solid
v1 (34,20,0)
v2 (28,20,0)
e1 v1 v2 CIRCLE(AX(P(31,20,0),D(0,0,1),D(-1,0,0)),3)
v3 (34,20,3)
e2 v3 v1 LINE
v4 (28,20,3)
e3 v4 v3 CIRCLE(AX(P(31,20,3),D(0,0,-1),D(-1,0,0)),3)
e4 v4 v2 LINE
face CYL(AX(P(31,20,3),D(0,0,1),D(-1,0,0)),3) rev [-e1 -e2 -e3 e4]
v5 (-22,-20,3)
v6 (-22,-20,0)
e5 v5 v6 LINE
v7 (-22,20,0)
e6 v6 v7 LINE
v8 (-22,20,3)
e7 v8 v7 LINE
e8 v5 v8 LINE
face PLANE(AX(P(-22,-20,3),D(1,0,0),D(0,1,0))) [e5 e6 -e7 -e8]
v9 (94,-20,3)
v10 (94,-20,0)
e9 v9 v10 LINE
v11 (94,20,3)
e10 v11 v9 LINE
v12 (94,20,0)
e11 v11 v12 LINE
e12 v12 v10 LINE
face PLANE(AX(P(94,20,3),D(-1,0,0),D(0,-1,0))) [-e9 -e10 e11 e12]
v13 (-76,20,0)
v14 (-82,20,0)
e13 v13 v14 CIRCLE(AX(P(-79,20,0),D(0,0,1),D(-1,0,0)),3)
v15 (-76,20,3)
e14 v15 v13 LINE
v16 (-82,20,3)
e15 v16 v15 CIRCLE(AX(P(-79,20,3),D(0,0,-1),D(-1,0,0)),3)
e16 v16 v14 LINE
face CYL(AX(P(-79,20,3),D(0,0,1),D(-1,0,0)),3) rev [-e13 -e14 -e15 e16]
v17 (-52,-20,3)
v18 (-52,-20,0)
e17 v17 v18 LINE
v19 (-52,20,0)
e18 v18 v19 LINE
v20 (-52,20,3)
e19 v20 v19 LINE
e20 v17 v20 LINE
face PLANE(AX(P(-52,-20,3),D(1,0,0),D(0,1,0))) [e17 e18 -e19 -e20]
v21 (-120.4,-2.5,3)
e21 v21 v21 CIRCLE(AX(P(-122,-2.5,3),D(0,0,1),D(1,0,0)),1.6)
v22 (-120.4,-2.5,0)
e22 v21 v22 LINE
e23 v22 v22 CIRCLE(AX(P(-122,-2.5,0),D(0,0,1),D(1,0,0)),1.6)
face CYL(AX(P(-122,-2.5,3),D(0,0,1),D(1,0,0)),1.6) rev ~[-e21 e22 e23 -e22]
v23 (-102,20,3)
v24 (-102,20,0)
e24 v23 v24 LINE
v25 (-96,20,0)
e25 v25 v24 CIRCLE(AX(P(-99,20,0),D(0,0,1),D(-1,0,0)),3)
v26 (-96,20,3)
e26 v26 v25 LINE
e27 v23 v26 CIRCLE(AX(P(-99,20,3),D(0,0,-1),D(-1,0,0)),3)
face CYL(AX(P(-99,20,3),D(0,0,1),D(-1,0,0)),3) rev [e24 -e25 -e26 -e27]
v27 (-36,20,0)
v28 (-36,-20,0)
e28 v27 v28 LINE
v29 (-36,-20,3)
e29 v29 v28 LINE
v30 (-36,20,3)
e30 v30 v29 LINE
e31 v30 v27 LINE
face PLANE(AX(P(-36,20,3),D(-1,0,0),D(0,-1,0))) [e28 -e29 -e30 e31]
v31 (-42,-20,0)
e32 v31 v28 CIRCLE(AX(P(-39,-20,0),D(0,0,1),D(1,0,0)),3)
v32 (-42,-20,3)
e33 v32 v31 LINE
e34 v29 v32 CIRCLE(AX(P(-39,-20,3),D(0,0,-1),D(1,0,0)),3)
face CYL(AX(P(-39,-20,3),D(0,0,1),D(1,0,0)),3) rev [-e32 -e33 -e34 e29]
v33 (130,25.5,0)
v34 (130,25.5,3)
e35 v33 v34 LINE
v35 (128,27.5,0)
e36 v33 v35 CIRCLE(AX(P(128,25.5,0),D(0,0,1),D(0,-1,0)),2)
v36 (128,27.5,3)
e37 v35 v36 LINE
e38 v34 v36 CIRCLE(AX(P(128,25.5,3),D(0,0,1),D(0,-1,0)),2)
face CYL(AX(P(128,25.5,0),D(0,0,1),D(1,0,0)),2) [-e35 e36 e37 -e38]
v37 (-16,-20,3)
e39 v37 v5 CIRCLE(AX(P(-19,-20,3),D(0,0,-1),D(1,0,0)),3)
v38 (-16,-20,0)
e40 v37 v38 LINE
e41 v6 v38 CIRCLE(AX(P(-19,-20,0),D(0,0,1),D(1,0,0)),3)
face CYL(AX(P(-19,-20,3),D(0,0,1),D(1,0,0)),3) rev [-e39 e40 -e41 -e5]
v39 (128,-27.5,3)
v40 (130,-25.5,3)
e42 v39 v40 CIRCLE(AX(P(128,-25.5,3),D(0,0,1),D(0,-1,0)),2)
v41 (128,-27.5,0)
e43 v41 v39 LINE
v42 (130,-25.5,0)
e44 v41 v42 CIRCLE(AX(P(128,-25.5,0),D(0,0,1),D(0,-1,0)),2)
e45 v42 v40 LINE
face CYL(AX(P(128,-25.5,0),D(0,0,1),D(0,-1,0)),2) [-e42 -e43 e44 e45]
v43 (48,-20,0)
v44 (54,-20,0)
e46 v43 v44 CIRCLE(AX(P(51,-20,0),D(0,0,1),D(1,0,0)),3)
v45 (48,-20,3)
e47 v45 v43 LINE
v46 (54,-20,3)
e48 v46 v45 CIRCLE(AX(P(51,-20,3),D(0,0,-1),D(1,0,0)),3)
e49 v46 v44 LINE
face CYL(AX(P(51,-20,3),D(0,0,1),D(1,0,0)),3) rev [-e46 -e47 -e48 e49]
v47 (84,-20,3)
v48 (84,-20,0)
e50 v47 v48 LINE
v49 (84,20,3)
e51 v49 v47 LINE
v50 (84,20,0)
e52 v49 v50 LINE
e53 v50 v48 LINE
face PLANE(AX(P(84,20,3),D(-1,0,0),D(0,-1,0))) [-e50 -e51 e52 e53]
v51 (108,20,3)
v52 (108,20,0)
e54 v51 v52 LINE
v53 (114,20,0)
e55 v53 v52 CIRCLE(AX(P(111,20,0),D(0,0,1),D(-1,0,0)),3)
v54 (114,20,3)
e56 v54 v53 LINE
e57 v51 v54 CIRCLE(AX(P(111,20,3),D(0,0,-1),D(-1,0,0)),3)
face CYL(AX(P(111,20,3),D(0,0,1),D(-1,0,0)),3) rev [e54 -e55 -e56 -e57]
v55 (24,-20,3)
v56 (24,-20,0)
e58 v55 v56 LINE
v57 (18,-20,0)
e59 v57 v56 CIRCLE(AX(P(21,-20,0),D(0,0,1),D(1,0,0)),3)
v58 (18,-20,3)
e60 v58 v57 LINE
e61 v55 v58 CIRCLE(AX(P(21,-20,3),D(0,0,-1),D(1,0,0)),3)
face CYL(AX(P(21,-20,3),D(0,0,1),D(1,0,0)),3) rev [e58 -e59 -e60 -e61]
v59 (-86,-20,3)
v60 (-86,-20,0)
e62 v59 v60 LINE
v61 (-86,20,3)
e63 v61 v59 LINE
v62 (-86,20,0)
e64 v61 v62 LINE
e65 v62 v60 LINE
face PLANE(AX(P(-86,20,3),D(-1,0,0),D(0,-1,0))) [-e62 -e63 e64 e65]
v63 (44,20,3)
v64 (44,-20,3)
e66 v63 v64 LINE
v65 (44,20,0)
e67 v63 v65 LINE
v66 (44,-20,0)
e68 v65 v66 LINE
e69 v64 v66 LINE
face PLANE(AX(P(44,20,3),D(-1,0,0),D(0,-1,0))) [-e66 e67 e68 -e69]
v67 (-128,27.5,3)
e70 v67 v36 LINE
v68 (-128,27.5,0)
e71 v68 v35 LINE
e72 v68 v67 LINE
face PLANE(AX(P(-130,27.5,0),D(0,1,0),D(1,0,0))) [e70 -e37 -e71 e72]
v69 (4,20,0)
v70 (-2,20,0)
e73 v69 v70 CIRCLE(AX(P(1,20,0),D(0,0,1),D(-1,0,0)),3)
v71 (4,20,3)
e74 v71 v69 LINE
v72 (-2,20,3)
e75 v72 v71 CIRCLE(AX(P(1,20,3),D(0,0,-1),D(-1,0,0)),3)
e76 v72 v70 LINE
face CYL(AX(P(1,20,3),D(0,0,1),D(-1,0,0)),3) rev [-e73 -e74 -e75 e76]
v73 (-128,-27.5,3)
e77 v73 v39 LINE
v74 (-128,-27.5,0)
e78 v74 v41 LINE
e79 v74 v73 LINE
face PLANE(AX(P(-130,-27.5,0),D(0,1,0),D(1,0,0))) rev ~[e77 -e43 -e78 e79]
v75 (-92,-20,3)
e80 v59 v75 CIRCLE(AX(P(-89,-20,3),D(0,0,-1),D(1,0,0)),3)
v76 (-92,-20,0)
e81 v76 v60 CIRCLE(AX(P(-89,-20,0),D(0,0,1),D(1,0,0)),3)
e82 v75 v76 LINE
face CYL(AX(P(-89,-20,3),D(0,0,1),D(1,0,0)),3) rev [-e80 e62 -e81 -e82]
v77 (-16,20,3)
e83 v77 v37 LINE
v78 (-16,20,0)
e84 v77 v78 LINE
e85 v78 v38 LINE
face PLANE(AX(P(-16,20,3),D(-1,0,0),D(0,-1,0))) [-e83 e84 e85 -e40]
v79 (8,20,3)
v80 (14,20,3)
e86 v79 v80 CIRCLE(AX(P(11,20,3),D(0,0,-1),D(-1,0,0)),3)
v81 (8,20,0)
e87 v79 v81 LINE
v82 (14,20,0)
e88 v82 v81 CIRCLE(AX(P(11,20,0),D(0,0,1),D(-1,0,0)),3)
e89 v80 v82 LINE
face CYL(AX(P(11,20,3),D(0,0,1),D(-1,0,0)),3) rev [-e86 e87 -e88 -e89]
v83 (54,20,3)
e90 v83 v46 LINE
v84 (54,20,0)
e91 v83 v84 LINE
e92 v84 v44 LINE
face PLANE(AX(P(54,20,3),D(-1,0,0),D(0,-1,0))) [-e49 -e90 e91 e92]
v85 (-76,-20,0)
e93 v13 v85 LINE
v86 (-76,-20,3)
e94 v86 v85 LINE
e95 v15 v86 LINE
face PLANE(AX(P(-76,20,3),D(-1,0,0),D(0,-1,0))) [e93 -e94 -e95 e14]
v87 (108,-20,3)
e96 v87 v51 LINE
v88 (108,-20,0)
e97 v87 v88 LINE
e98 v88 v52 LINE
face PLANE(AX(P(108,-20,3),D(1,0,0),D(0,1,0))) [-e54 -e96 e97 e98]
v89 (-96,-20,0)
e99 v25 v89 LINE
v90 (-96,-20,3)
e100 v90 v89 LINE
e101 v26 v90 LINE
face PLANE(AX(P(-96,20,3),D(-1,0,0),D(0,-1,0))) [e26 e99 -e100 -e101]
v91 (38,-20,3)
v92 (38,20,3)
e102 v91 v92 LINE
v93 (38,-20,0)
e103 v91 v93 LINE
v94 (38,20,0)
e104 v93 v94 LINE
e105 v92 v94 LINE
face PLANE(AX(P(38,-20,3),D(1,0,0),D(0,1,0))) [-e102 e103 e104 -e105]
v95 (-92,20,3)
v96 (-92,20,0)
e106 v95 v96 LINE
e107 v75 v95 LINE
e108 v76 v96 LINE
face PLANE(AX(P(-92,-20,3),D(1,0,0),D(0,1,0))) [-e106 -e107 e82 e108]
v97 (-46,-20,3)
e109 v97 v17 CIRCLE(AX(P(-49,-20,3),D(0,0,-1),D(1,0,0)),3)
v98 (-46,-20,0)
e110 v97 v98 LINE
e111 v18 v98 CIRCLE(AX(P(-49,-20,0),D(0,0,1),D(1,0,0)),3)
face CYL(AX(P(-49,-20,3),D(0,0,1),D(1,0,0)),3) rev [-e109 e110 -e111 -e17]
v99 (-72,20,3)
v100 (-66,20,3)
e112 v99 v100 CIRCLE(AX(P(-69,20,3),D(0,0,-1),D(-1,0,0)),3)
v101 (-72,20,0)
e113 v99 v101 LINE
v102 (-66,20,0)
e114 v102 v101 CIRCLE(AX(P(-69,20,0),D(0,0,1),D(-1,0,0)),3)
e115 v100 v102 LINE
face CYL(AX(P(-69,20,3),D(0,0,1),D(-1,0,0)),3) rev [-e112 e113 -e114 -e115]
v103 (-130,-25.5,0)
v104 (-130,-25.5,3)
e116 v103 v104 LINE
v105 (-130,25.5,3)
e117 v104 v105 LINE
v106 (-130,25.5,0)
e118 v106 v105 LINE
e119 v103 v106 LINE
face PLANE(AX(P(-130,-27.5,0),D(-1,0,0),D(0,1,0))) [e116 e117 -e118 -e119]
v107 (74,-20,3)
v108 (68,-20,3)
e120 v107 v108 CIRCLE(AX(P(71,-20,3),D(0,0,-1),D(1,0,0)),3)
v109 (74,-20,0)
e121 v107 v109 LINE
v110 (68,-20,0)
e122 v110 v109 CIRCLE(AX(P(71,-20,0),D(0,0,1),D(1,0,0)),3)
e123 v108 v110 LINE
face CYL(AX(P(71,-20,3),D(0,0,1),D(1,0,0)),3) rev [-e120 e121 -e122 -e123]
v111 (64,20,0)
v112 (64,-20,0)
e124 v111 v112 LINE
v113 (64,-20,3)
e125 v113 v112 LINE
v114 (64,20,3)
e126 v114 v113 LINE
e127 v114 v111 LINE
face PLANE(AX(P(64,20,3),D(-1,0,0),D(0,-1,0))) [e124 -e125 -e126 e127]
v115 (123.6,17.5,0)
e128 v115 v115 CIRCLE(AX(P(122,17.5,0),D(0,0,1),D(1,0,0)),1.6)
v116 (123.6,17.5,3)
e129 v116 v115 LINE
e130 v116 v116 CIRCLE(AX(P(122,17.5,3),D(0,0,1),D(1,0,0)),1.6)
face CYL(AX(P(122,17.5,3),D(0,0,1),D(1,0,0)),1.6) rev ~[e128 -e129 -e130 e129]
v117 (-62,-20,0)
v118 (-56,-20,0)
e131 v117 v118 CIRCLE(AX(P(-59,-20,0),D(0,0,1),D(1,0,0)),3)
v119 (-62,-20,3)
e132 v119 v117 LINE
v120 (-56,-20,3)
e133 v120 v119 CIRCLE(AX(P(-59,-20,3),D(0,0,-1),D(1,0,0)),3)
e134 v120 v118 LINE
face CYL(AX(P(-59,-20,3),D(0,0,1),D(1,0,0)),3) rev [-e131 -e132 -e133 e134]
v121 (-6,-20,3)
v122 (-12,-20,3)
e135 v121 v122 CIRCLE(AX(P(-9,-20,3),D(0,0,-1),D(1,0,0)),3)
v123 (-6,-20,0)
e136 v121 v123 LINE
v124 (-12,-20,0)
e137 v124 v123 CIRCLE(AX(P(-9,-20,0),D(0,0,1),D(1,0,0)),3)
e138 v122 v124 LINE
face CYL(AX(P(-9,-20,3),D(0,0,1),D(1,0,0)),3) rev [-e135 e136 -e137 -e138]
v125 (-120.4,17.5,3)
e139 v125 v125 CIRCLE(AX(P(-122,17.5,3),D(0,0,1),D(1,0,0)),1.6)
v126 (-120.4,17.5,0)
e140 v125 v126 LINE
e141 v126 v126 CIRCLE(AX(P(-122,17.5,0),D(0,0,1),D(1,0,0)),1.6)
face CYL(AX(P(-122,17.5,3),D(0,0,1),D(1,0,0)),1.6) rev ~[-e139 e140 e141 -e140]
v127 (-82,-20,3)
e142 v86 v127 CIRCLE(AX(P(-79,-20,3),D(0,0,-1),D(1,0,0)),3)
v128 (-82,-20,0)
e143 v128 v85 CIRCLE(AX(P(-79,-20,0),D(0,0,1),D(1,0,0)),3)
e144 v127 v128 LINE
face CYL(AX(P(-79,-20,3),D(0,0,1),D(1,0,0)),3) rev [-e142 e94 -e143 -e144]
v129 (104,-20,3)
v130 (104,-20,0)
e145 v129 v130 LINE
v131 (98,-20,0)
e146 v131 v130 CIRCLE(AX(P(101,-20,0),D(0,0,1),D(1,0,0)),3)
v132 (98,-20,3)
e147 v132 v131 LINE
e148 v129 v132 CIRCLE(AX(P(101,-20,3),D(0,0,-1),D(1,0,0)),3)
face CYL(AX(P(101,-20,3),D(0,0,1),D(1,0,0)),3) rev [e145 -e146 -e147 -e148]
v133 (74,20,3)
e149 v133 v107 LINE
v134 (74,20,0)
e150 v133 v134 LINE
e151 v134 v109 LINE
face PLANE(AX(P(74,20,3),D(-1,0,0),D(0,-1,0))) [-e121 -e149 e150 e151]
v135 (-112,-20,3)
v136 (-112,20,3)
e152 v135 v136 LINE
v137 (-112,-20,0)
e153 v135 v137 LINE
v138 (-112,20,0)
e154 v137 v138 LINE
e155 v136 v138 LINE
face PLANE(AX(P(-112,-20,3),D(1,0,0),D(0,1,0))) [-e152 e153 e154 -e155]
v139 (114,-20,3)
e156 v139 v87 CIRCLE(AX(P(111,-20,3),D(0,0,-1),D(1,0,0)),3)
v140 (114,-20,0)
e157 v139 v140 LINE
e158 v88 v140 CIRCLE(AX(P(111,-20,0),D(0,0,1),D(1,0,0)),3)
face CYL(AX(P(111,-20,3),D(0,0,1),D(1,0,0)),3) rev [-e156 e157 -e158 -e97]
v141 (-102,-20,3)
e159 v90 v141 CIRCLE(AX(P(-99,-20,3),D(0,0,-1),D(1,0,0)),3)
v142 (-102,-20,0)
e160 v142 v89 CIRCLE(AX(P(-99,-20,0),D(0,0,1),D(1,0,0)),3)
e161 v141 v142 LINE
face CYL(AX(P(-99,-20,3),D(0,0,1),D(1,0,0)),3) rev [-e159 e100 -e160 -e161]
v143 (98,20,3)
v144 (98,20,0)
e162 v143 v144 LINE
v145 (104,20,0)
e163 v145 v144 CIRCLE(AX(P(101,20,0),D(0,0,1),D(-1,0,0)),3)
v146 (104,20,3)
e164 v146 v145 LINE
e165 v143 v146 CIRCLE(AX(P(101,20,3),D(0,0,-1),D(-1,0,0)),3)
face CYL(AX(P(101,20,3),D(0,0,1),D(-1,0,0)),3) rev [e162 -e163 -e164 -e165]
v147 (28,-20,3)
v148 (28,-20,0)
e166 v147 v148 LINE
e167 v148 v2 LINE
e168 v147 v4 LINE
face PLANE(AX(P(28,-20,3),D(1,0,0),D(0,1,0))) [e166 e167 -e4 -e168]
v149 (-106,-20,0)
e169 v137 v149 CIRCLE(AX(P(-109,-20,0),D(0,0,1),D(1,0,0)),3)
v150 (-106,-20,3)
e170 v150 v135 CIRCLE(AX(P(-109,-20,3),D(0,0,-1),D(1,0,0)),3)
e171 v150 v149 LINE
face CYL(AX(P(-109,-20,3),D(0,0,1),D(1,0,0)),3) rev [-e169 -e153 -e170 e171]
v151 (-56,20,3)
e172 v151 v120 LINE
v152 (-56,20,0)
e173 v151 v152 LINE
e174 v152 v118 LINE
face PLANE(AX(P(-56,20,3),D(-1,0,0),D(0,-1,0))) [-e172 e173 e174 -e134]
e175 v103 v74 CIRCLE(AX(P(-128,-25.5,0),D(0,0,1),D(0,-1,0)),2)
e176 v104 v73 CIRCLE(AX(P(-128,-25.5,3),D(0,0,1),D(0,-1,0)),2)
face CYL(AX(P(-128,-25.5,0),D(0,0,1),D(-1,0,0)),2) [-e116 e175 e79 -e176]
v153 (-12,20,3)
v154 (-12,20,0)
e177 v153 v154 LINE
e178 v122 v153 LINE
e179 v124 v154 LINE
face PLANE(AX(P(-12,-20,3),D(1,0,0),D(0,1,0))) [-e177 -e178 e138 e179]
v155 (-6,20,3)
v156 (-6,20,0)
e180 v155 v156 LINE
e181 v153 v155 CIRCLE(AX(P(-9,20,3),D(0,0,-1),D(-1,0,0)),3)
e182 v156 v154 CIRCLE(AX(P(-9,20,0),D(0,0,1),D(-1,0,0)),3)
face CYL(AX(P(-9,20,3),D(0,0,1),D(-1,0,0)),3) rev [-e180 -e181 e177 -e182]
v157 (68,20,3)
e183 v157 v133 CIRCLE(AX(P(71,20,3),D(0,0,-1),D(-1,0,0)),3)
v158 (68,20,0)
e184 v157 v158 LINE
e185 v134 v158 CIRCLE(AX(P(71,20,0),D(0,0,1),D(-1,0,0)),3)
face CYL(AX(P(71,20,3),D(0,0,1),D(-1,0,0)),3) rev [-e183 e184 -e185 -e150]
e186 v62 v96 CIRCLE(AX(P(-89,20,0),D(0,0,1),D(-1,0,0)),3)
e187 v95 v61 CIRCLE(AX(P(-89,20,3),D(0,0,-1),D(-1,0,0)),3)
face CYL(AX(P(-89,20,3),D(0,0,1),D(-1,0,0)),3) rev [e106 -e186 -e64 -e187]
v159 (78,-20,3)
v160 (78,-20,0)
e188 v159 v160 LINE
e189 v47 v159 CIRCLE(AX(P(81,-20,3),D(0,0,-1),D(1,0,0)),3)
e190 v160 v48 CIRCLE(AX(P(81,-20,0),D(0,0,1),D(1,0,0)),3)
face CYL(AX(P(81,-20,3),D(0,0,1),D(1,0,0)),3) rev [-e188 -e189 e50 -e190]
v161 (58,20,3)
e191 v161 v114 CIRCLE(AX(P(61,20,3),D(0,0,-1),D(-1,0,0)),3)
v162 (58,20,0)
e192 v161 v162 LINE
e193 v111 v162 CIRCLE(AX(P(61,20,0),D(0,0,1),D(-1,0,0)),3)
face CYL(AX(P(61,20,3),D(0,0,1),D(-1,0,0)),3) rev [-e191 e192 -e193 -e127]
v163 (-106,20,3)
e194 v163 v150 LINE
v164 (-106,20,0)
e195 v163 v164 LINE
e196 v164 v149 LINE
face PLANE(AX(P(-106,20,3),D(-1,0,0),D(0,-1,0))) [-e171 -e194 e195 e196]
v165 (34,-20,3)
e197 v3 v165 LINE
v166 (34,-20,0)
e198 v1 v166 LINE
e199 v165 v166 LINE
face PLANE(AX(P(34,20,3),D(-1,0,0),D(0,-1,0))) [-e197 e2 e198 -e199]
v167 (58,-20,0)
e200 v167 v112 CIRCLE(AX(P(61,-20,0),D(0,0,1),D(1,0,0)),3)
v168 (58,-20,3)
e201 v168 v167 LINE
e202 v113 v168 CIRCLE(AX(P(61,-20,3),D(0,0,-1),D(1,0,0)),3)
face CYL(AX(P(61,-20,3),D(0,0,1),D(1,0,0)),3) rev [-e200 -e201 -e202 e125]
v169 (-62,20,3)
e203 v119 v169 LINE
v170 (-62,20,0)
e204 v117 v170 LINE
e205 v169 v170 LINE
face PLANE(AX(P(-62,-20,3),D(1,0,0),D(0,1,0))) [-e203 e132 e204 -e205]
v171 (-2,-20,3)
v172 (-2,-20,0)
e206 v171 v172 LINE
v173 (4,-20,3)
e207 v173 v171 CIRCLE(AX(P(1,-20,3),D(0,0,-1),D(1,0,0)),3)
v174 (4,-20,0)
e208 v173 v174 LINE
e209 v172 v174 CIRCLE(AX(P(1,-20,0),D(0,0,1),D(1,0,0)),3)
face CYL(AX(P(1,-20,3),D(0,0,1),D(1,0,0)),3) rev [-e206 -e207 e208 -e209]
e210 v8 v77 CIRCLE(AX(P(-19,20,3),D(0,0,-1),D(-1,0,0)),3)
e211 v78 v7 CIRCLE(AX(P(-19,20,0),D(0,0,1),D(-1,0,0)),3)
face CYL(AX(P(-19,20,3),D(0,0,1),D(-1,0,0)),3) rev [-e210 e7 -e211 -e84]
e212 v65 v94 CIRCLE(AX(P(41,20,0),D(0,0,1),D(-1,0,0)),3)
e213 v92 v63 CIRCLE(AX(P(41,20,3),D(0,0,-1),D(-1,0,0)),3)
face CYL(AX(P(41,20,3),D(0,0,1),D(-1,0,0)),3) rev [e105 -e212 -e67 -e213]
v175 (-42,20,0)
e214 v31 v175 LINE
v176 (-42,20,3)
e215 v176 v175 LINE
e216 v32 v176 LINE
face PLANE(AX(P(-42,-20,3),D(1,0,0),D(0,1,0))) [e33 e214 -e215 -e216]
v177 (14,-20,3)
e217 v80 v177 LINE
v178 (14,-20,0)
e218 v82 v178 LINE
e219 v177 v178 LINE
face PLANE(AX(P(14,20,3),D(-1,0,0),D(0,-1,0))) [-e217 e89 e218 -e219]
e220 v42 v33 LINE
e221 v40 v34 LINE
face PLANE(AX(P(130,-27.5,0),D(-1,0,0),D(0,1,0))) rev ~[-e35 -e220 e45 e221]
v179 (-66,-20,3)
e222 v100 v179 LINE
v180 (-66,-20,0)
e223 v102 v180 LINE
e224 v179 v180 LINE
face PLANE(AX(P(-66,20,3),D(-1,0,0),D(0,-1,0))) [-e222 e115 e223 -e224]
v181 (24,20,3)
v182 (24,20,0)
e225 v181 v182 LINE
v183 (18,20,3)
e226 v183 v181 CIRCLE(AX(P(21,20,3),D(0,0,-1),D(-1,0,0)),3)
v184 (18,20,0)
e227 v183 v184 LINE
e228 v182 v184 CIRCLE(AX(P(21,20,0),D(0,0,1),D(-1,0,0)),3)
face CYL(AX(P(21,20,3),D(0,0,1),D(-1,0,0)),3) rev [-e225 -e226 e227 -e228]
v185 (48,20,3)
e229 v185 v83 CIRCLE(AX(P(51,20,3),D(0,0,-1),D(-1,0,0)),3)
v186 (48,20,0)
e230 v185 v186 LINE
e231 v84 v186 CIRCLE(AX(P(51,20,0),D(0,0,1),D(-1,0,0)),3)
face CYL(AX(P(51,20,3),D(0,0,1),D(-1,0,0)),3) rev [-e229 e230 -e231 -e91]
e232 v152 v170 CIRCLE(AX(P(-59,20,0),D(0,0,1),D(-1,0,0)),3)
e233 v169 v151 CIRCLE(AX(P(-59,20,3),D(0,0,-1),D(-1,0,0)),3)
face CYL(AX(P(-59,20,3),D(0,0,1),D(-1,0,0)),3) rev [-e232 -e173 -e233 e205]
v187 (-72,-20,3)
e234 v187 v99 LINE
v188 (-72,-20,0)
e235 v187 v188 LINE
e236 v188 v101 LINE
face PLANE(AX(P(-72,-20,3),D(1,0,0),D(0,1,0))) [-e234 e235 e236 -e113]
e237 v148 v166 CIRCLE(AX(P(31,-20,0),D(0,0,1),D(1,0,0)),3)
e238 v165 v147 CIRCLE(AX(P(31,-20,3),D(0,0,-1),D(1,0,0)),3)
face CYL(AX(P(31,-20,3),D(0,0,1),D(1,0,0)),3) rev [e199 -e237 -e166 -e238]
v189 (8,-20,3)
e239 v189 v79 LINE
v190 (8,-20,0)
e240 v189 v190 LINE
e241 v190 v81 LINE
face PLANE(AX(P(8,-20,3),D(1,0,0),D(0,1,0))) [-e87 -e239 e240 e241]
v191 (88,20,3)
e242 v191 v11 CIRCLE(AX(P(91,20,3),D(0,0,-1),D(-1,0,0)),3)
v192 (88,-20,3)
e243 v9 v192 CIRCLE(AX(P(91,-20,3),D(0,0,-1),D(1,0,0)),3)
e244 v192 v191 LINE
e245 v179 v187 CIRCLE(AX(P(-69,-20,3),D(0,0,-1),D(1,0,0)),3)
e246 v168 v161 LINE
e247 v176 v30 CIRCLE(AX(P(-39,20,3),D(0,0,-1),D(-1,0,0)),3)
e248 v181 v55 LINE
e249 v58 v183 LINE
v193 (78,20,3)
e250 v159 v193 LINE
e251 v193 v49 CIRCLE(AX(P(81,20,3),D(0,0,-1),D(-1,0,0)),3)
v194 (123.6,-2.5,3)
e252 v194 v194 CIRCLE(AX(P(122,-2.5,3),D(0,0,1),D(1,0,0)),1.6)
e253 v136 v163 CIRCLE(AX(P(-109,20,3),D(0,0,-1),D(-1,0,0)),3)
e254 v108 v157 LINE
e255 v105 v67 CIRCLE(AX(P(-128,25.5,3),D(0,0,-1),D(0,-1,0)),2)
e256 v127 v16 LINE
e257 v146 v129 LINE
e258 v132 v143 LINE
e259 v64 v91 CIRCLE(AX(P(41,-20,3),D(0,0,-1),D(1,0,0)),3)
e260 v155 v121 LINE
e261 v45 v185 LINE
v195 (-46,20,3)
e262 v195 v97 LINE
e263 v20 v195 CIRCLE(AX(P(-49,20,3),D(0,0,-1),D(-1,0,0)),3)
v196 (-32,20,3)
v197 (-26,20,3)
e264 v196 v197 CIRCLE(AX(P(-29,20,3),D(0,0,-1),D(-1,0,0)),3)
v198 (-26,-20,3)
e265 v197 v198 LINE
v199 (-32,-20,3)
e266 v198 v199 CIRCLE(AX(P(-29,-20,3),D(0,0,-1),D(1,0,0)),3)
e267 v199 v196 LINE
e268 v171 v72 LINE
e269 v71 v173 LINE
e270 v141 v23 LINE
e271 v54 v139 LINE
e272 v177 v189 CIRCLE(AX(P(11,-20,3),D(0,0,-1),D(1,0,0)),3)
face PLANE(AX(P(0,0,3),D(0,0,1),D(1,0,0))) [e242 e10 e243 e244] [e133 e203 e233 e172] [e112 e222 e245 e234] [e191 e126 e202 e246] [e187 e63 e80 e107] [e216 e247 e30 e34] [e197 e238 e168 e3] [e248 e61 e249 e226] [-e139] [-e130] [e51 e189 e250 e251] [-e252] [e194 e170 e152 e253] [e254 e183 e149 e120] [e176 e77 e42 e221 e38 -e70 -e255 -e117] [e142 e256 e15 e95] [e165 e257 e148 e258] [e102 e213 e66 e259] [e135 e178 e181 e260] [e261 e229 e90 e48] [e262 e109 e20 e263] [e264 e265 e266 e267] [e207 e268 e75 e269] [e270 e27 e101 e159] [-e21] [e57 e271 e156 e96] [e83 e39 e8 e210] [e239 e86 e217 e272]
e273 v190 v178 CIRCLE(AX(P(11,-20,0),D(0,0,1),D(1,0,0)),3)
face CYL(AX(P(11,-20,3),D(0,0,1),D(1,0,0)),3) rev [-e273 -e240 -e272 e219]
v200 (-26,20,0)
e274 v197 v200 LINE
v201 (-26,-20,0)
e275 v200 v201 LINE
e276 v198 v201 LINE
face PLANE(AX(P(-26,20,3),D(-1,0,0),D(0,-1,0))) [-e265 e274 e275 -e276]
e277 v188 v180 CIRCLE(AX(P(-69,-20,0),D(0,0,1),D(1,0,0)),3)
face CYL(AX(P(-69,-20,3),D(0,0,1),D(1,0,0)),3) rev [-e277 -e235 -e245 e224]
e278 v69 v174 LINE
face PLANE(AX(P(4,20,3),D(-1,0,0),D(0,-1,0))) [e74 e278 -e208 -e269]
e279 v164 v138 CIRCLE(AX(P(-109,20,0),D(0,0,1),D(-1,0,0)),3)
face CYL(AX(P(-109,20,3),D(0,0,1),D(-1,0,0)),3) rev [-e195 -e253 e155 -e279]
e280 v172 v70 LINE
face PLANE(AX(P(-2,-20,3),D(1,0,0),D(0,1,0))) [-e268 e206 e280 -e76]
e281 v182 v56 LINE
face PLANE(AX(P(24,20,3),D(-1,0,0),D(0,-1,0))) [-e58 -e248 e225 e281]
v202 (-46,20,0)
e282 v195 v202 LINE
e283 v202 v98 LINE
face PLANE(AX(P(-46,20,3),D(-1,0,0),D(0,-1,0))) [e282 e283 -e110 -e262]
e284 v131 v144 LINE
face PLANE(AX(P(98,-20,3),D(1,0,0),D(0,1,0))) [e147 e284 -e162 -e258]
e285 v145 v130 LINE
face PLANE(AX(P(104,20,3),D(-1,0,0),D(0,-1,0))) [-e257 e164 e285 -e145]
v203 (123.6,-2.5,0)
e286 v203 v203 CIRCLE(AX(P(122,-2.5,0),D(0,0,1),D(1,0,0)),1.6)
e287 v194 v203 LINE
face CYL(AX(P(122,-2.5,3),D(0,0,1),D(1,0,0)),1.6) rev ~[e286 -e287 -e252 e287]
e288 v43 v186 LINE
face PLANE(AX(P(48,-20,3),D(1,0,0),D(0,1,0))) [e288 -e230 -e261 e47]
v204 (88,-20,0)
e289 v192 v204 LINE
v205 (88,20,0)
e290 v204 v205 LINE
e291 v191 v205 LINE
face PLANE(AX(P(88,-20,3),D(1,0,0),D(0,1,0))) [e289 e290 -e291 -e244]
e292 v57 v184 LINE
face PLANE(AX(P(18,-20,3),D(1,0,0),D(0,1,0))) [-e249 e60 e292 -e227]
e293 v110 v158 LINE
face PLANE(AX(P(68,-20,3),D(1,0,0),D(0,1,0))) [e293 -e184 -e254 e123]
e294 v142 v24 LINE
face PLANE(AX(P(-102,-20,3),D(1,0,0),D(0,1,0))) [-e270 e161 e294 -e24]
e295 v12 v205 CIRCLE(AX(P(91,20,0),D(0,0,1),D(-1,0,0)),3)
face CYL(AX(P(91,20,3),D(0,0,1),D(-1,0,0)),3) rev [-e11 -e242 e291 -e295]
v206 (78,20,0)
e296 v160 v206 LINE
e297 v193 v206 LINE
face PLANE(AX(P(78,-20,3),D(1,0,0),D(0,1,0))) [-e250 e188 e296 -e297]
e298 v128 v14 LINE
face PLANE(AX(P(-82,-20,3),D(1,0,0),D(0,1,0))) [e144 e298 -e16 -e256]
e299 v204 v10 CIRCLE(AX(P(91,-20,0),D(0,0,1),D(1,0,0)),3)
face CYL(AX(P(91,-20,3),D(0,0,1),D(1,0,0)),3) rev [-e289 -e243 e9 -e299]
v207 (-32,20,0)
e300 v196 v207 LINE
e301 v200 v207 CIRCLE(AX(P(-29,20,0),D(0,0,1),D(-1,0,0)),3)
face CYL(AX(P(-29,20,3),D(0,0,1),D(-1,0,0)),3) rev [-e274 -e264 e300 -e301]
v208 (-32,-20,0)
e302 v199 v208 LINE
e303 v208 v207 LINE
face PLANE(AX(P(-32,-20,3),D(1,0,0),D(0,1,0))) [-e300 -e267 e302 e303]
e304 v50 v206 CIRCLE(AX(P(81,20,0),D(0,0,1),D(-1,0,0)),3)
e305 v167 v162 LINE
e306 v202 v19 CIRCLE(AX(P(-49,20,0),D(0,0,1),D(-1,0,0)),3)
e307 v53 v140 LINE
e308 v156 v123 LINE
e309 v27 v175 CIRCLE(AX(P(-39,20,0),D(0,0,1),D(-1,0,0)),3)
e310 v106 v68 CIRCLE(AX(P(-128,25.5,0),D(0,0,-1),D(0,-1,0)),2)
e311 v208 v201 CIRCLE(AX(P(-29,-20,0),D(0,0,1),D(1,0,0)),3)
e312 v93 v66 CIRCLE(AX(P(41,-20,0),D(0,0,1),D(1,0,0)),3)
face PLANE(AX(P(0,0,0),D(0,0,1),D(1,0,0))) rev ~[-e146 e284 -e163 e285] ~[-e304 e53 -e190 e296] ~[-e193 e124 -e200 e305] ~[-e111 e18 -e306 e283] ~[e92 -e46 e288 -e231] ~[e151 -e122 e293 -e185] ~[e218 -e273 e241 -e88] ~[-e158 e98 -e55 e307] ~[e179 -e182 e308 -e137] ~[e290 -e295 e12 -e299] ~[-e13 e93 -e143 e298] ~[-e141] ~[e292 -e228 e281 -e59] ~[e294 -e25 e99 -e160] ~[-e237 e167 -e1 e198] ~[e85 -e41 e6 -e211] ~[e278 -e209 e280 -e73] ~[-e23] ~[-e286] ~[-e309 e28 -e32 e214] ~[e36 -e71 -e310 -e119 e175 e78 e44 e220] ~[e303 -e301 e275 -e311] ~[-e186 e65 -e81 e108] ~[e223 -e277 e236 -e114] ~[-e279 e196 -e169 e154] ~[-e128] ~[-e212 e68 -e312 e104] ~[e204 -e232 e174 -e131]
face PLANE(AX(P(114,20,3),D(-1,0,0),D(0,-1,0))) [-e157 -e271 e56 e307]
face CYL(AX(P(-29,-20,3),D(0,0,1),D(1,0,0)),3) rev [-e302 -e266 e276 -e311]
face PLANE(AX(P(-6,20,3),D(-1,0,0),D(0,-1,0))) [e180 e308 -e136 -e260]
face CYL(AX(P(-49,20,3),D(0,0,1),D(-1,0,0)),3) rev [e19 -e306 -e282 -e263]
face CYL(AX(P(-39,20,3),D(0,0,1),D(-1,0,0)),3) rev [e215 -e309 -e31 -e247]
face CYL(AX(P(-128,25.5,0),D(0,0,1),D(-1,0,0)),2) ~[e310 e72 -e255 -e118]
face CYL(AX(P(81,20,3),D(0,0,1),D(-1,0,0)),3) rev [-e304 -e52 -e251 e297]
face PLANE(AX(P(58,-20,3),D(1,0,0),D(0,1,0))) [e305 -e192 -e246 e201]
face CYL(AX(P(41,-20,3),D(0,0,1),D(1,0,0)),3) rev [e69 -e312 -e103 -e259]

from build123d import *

# Parameters (mm, degrees)
SKETCH_1_W          = 260
SKETCH_1_H          = 55
EXTRUDE_1_DEPTH     = 3
FILLET_1_R          = 2
SKETCH_2_R          = 1.6
CUT_EXTRUDE_1_DEPTH = 18
CUT_EXTRUDE_2_DEPTH = 10


with BuildPart() as part:
    # 草图1 → 凸台-拉伸1 (new body)
    with BuildSketch(Plane.XY):
        Rectangle(SKETCH_1_W, SKETCH_1_H)
    extrude(amount=EXTRUDE_1_DEPTH)

    # 圆角1
    fillet_1_edges = [part.edges().sort_by_distance(p)[0] for p in [
        (-130, 27.5, 1.5),
        (130, 27.5, 1.5),
        (130, -27.5, 1.5),
        (-130, -27.5, 1.5),
    ]]
    fillet(fillet_1_edges, radius=FILLET_1_R)

    # 草图2 → 切除-拉伸1 (cut)
    with BuildSketch(Plane.XY.offset(3)):
        with Locations((-122, 17.5)):
            Circle(SKETCH_2_R)
        with Locations((-122, -2.5)):
            Circle(SKETCH_2_R)
        with Locations((122, -2.5)):
            Circle(SKETCH_2_R)
        with Locations((122, 17.5)):
            Circle(SKETCH_2_R)
    extrude(amount=-CUT_EXTRUDE_1_DEPTH, mode=Mode.SUBTRACT)

    # 草图3 → 切除-拉伸2 (cut)
    with BuildSketch(Plane.XY.offset(3)):
        with BuildLine():
            Line((-106, 20), (-106, -20))
            ThreePointArc((-106, -20), (-109, -23), (-112, -20))
            Line((-112, -20), (-112, 20))
            ThreePointArc((-112, 20), (-109, 23), (-106, 20))
        make_face()
        with BuildLine():
            Line((-96, 20), (-96, -20))
            ThreePointArc((-96, -20), (-99, -23), (-102, -20))
            Line((-102, -20), (-102, 20))
            ThreePointArc((-102, 20), (-99, 23), (-96, 20))
        make_face()
        with BuildLine():
            Line((-86, 20), (-86, -20))
            ThreePointArc((-86, -20), (-89, -23), (-92, -20))
            Line((-92, -20), (-92, 20))
            ThreePointArc((-92, 20), (-89, 23), (-86, 20))
        make_face()
        with BuildLine():
            Line((-76, 20), (-76, -20))
            ThreePointArc((-76, -20), (-79, -23), (-82, -20))
            Line((-82, -20), (-82, 20))
            ThreePointArc((-82, 20), (-79, 23), (-76, 20))
        make_face()
        with BuildLine():
            Line((-66, 20), (-66, -20))
            ThreePointArc((-66, -20), (-69, -23), (-72, -20))
            Line((-72, -20), (-72, 20))
            ThreePointArc((-72, 20), (-69, 23), (-66, 20))
        make_face()
        with BuildLine():
            Line((-56, 20), (-56, -20))
            ThreePointArc((-56, -20), (-59, -23), (-62, -20))
            Line((-62, -20), (-62, 20))
            ThreePointArc((-62, 20), (-59, 23), (-56, 20))
        make_face()
        with BuildLine():
            Line((-46, 20), (-46, -20))
            ThreePointArc((-46, -20), (-49, -23), (-52, -20))
            Line((-52, -20), (-52, 20))
            ThreePointArc((-52, 20), (-49, 23), (-46, 20))
        make_face()
        with BuildLine():
            Line((-36, 20), (-36, -20))
            ThreePointArc((-36, -20), (-39, -23), (-42, -20))
            Line((-42, -20), (-42, 20))
            ThreePointArc((-42, 20), (-39, 23), (-36, 20))
        make_face()
        with BuildLine():
            Line((-26, 20), (-26, -20))
            ThreePointArc((-26, -20), (-29, -23), (-32, -20))
            Line((-32, -20), (-32, 20))
            ThreePointArc((-32, 20), (-29, 23), (-26, 20))
        make_face()
        with BuildLine():
            Line((-16, 20), (-16, -20))
            ThreePointArc((-16, -20), (-19, -23), (-22, -20))
            Line((-22, -20), (-22, 20))
            ThreePointArc((-22, 20), (-19, 23), (-16, 20))
        make_face()
        with BuildLine():
            Line((-6, 20), (-6, -20))
            ThreePointArc((-6, -20), (-9, -23), (-12, -20))
            Line((-12, -20), (-12, 20))
            ThreePointArc((-12, 20), (-9, 23), (-6, 20))
        make_face()
        with BuildLine():
            Line((4, 20), (4, -20))
            ThreePointArc((4, -20), (1, -23), (-2, -20))
            Line((-2, -20), (-2, 20))
            ThreePointArc((-2, 20), (1, 23), (4, 20))
        make_face()
        with BuildLine():
            Line((14, 20), (14, -20))
            ThreePointArc((14, -20), (11, -23), (8, -20))
            Line((8, -20), (8, 20))
            ThreePointArc((8, 20), (11, 23), (14, 20))
        make_face()
        with BuildLine():
            Line((24, 20), (24, -20))
            ThreePointArc((24, -20), (21, -23), (18, -20))
            Line((18, -20), (18, 20))
            ThreePointArc((18, 20), (21, 23), (24, 20))
        make_face()
        with BuildLine():
            Line((34, 20), (34, -20))
            ThreePointArc((34, -20), (31, -23), (28, -20))
            Line((28, -20), (28, 20))
            ThreePointArc((28, 20), (31, 23), (34, 20))
        make_face()
        with BuildLine():
            Line((44, 20), (44, -20))
            ThreePointArc((44, -20), (41, -23), (38, -20))
            Line((38, -20), (38, 20))
            ThreePointArc((38, 20), (41, 23), (44, 20))
        make_face()
        with BuildLine():
            Line((54, 20), (54, -20))
            ThreePointArc((54, -20), (51, -23), (48, -20))
            Line((48, -20), (48, 20))
            ThreePointArc((48, 20), (51, 23), (54, 20))
        make_face()
        with BuildLine():
            Line((64, 20), (64, -20))
            ThreePointArc((64, -20), (61, -23), (58, -20))
            Line((58, -20), (58, 20))
            ThreePointArc((58, 20), (61, 23), (64, 20))
        make_face()
        with BuildLine():
            Line((74, 20), (74, -20))
            ThreePointArc((74, -20), (71, -23), (68, -20))
            Line((68, -20), (68, 20))
            ThreePointArc((68, 20), (71, 23), (74, 20))
        make_face()
        with BuildLine():
            Line((84, 20), (84, -20))
            ThreePointArc((84, -20), (81, -23), (78, -20))
            Line((78, -20), (78, 20))
            ThreePointArc((78, 20), (81, 23), (84, 20))
        make_face()
        with BuildLine():
            Line((94, 20), (94, -20))
            ThreePointArc((94, -20), (91, -23), (88, -20))
            Line((88, -20), (88, 20))
            ThreePointArc((88, 20), (91, 23), (94, 20))
        make_face()
        with BuildLine():
            Line((104, 20), (104, -20))
            ThreePointArc((104, -20), (101, -23), (98, -20))
            Line((98, -20), (98, 20))
            ThreePointArc((98, 20), (101, 23), (104, 20))
        make_face()
        with BuildLine():
            Line((114, 20), (114, -20))
            ThreePointArc((114, -20), (111, -23), (108, -20))
            Line((108, -20), (108, 20))
            ThreePointArc((108, 20), (111, 23), (114, 20))
        make_face()
    extrude(amount=-CUT_EXTRUDE_2_DEPTH, mode=Mode.SUBTRACT)


solid = part.part
